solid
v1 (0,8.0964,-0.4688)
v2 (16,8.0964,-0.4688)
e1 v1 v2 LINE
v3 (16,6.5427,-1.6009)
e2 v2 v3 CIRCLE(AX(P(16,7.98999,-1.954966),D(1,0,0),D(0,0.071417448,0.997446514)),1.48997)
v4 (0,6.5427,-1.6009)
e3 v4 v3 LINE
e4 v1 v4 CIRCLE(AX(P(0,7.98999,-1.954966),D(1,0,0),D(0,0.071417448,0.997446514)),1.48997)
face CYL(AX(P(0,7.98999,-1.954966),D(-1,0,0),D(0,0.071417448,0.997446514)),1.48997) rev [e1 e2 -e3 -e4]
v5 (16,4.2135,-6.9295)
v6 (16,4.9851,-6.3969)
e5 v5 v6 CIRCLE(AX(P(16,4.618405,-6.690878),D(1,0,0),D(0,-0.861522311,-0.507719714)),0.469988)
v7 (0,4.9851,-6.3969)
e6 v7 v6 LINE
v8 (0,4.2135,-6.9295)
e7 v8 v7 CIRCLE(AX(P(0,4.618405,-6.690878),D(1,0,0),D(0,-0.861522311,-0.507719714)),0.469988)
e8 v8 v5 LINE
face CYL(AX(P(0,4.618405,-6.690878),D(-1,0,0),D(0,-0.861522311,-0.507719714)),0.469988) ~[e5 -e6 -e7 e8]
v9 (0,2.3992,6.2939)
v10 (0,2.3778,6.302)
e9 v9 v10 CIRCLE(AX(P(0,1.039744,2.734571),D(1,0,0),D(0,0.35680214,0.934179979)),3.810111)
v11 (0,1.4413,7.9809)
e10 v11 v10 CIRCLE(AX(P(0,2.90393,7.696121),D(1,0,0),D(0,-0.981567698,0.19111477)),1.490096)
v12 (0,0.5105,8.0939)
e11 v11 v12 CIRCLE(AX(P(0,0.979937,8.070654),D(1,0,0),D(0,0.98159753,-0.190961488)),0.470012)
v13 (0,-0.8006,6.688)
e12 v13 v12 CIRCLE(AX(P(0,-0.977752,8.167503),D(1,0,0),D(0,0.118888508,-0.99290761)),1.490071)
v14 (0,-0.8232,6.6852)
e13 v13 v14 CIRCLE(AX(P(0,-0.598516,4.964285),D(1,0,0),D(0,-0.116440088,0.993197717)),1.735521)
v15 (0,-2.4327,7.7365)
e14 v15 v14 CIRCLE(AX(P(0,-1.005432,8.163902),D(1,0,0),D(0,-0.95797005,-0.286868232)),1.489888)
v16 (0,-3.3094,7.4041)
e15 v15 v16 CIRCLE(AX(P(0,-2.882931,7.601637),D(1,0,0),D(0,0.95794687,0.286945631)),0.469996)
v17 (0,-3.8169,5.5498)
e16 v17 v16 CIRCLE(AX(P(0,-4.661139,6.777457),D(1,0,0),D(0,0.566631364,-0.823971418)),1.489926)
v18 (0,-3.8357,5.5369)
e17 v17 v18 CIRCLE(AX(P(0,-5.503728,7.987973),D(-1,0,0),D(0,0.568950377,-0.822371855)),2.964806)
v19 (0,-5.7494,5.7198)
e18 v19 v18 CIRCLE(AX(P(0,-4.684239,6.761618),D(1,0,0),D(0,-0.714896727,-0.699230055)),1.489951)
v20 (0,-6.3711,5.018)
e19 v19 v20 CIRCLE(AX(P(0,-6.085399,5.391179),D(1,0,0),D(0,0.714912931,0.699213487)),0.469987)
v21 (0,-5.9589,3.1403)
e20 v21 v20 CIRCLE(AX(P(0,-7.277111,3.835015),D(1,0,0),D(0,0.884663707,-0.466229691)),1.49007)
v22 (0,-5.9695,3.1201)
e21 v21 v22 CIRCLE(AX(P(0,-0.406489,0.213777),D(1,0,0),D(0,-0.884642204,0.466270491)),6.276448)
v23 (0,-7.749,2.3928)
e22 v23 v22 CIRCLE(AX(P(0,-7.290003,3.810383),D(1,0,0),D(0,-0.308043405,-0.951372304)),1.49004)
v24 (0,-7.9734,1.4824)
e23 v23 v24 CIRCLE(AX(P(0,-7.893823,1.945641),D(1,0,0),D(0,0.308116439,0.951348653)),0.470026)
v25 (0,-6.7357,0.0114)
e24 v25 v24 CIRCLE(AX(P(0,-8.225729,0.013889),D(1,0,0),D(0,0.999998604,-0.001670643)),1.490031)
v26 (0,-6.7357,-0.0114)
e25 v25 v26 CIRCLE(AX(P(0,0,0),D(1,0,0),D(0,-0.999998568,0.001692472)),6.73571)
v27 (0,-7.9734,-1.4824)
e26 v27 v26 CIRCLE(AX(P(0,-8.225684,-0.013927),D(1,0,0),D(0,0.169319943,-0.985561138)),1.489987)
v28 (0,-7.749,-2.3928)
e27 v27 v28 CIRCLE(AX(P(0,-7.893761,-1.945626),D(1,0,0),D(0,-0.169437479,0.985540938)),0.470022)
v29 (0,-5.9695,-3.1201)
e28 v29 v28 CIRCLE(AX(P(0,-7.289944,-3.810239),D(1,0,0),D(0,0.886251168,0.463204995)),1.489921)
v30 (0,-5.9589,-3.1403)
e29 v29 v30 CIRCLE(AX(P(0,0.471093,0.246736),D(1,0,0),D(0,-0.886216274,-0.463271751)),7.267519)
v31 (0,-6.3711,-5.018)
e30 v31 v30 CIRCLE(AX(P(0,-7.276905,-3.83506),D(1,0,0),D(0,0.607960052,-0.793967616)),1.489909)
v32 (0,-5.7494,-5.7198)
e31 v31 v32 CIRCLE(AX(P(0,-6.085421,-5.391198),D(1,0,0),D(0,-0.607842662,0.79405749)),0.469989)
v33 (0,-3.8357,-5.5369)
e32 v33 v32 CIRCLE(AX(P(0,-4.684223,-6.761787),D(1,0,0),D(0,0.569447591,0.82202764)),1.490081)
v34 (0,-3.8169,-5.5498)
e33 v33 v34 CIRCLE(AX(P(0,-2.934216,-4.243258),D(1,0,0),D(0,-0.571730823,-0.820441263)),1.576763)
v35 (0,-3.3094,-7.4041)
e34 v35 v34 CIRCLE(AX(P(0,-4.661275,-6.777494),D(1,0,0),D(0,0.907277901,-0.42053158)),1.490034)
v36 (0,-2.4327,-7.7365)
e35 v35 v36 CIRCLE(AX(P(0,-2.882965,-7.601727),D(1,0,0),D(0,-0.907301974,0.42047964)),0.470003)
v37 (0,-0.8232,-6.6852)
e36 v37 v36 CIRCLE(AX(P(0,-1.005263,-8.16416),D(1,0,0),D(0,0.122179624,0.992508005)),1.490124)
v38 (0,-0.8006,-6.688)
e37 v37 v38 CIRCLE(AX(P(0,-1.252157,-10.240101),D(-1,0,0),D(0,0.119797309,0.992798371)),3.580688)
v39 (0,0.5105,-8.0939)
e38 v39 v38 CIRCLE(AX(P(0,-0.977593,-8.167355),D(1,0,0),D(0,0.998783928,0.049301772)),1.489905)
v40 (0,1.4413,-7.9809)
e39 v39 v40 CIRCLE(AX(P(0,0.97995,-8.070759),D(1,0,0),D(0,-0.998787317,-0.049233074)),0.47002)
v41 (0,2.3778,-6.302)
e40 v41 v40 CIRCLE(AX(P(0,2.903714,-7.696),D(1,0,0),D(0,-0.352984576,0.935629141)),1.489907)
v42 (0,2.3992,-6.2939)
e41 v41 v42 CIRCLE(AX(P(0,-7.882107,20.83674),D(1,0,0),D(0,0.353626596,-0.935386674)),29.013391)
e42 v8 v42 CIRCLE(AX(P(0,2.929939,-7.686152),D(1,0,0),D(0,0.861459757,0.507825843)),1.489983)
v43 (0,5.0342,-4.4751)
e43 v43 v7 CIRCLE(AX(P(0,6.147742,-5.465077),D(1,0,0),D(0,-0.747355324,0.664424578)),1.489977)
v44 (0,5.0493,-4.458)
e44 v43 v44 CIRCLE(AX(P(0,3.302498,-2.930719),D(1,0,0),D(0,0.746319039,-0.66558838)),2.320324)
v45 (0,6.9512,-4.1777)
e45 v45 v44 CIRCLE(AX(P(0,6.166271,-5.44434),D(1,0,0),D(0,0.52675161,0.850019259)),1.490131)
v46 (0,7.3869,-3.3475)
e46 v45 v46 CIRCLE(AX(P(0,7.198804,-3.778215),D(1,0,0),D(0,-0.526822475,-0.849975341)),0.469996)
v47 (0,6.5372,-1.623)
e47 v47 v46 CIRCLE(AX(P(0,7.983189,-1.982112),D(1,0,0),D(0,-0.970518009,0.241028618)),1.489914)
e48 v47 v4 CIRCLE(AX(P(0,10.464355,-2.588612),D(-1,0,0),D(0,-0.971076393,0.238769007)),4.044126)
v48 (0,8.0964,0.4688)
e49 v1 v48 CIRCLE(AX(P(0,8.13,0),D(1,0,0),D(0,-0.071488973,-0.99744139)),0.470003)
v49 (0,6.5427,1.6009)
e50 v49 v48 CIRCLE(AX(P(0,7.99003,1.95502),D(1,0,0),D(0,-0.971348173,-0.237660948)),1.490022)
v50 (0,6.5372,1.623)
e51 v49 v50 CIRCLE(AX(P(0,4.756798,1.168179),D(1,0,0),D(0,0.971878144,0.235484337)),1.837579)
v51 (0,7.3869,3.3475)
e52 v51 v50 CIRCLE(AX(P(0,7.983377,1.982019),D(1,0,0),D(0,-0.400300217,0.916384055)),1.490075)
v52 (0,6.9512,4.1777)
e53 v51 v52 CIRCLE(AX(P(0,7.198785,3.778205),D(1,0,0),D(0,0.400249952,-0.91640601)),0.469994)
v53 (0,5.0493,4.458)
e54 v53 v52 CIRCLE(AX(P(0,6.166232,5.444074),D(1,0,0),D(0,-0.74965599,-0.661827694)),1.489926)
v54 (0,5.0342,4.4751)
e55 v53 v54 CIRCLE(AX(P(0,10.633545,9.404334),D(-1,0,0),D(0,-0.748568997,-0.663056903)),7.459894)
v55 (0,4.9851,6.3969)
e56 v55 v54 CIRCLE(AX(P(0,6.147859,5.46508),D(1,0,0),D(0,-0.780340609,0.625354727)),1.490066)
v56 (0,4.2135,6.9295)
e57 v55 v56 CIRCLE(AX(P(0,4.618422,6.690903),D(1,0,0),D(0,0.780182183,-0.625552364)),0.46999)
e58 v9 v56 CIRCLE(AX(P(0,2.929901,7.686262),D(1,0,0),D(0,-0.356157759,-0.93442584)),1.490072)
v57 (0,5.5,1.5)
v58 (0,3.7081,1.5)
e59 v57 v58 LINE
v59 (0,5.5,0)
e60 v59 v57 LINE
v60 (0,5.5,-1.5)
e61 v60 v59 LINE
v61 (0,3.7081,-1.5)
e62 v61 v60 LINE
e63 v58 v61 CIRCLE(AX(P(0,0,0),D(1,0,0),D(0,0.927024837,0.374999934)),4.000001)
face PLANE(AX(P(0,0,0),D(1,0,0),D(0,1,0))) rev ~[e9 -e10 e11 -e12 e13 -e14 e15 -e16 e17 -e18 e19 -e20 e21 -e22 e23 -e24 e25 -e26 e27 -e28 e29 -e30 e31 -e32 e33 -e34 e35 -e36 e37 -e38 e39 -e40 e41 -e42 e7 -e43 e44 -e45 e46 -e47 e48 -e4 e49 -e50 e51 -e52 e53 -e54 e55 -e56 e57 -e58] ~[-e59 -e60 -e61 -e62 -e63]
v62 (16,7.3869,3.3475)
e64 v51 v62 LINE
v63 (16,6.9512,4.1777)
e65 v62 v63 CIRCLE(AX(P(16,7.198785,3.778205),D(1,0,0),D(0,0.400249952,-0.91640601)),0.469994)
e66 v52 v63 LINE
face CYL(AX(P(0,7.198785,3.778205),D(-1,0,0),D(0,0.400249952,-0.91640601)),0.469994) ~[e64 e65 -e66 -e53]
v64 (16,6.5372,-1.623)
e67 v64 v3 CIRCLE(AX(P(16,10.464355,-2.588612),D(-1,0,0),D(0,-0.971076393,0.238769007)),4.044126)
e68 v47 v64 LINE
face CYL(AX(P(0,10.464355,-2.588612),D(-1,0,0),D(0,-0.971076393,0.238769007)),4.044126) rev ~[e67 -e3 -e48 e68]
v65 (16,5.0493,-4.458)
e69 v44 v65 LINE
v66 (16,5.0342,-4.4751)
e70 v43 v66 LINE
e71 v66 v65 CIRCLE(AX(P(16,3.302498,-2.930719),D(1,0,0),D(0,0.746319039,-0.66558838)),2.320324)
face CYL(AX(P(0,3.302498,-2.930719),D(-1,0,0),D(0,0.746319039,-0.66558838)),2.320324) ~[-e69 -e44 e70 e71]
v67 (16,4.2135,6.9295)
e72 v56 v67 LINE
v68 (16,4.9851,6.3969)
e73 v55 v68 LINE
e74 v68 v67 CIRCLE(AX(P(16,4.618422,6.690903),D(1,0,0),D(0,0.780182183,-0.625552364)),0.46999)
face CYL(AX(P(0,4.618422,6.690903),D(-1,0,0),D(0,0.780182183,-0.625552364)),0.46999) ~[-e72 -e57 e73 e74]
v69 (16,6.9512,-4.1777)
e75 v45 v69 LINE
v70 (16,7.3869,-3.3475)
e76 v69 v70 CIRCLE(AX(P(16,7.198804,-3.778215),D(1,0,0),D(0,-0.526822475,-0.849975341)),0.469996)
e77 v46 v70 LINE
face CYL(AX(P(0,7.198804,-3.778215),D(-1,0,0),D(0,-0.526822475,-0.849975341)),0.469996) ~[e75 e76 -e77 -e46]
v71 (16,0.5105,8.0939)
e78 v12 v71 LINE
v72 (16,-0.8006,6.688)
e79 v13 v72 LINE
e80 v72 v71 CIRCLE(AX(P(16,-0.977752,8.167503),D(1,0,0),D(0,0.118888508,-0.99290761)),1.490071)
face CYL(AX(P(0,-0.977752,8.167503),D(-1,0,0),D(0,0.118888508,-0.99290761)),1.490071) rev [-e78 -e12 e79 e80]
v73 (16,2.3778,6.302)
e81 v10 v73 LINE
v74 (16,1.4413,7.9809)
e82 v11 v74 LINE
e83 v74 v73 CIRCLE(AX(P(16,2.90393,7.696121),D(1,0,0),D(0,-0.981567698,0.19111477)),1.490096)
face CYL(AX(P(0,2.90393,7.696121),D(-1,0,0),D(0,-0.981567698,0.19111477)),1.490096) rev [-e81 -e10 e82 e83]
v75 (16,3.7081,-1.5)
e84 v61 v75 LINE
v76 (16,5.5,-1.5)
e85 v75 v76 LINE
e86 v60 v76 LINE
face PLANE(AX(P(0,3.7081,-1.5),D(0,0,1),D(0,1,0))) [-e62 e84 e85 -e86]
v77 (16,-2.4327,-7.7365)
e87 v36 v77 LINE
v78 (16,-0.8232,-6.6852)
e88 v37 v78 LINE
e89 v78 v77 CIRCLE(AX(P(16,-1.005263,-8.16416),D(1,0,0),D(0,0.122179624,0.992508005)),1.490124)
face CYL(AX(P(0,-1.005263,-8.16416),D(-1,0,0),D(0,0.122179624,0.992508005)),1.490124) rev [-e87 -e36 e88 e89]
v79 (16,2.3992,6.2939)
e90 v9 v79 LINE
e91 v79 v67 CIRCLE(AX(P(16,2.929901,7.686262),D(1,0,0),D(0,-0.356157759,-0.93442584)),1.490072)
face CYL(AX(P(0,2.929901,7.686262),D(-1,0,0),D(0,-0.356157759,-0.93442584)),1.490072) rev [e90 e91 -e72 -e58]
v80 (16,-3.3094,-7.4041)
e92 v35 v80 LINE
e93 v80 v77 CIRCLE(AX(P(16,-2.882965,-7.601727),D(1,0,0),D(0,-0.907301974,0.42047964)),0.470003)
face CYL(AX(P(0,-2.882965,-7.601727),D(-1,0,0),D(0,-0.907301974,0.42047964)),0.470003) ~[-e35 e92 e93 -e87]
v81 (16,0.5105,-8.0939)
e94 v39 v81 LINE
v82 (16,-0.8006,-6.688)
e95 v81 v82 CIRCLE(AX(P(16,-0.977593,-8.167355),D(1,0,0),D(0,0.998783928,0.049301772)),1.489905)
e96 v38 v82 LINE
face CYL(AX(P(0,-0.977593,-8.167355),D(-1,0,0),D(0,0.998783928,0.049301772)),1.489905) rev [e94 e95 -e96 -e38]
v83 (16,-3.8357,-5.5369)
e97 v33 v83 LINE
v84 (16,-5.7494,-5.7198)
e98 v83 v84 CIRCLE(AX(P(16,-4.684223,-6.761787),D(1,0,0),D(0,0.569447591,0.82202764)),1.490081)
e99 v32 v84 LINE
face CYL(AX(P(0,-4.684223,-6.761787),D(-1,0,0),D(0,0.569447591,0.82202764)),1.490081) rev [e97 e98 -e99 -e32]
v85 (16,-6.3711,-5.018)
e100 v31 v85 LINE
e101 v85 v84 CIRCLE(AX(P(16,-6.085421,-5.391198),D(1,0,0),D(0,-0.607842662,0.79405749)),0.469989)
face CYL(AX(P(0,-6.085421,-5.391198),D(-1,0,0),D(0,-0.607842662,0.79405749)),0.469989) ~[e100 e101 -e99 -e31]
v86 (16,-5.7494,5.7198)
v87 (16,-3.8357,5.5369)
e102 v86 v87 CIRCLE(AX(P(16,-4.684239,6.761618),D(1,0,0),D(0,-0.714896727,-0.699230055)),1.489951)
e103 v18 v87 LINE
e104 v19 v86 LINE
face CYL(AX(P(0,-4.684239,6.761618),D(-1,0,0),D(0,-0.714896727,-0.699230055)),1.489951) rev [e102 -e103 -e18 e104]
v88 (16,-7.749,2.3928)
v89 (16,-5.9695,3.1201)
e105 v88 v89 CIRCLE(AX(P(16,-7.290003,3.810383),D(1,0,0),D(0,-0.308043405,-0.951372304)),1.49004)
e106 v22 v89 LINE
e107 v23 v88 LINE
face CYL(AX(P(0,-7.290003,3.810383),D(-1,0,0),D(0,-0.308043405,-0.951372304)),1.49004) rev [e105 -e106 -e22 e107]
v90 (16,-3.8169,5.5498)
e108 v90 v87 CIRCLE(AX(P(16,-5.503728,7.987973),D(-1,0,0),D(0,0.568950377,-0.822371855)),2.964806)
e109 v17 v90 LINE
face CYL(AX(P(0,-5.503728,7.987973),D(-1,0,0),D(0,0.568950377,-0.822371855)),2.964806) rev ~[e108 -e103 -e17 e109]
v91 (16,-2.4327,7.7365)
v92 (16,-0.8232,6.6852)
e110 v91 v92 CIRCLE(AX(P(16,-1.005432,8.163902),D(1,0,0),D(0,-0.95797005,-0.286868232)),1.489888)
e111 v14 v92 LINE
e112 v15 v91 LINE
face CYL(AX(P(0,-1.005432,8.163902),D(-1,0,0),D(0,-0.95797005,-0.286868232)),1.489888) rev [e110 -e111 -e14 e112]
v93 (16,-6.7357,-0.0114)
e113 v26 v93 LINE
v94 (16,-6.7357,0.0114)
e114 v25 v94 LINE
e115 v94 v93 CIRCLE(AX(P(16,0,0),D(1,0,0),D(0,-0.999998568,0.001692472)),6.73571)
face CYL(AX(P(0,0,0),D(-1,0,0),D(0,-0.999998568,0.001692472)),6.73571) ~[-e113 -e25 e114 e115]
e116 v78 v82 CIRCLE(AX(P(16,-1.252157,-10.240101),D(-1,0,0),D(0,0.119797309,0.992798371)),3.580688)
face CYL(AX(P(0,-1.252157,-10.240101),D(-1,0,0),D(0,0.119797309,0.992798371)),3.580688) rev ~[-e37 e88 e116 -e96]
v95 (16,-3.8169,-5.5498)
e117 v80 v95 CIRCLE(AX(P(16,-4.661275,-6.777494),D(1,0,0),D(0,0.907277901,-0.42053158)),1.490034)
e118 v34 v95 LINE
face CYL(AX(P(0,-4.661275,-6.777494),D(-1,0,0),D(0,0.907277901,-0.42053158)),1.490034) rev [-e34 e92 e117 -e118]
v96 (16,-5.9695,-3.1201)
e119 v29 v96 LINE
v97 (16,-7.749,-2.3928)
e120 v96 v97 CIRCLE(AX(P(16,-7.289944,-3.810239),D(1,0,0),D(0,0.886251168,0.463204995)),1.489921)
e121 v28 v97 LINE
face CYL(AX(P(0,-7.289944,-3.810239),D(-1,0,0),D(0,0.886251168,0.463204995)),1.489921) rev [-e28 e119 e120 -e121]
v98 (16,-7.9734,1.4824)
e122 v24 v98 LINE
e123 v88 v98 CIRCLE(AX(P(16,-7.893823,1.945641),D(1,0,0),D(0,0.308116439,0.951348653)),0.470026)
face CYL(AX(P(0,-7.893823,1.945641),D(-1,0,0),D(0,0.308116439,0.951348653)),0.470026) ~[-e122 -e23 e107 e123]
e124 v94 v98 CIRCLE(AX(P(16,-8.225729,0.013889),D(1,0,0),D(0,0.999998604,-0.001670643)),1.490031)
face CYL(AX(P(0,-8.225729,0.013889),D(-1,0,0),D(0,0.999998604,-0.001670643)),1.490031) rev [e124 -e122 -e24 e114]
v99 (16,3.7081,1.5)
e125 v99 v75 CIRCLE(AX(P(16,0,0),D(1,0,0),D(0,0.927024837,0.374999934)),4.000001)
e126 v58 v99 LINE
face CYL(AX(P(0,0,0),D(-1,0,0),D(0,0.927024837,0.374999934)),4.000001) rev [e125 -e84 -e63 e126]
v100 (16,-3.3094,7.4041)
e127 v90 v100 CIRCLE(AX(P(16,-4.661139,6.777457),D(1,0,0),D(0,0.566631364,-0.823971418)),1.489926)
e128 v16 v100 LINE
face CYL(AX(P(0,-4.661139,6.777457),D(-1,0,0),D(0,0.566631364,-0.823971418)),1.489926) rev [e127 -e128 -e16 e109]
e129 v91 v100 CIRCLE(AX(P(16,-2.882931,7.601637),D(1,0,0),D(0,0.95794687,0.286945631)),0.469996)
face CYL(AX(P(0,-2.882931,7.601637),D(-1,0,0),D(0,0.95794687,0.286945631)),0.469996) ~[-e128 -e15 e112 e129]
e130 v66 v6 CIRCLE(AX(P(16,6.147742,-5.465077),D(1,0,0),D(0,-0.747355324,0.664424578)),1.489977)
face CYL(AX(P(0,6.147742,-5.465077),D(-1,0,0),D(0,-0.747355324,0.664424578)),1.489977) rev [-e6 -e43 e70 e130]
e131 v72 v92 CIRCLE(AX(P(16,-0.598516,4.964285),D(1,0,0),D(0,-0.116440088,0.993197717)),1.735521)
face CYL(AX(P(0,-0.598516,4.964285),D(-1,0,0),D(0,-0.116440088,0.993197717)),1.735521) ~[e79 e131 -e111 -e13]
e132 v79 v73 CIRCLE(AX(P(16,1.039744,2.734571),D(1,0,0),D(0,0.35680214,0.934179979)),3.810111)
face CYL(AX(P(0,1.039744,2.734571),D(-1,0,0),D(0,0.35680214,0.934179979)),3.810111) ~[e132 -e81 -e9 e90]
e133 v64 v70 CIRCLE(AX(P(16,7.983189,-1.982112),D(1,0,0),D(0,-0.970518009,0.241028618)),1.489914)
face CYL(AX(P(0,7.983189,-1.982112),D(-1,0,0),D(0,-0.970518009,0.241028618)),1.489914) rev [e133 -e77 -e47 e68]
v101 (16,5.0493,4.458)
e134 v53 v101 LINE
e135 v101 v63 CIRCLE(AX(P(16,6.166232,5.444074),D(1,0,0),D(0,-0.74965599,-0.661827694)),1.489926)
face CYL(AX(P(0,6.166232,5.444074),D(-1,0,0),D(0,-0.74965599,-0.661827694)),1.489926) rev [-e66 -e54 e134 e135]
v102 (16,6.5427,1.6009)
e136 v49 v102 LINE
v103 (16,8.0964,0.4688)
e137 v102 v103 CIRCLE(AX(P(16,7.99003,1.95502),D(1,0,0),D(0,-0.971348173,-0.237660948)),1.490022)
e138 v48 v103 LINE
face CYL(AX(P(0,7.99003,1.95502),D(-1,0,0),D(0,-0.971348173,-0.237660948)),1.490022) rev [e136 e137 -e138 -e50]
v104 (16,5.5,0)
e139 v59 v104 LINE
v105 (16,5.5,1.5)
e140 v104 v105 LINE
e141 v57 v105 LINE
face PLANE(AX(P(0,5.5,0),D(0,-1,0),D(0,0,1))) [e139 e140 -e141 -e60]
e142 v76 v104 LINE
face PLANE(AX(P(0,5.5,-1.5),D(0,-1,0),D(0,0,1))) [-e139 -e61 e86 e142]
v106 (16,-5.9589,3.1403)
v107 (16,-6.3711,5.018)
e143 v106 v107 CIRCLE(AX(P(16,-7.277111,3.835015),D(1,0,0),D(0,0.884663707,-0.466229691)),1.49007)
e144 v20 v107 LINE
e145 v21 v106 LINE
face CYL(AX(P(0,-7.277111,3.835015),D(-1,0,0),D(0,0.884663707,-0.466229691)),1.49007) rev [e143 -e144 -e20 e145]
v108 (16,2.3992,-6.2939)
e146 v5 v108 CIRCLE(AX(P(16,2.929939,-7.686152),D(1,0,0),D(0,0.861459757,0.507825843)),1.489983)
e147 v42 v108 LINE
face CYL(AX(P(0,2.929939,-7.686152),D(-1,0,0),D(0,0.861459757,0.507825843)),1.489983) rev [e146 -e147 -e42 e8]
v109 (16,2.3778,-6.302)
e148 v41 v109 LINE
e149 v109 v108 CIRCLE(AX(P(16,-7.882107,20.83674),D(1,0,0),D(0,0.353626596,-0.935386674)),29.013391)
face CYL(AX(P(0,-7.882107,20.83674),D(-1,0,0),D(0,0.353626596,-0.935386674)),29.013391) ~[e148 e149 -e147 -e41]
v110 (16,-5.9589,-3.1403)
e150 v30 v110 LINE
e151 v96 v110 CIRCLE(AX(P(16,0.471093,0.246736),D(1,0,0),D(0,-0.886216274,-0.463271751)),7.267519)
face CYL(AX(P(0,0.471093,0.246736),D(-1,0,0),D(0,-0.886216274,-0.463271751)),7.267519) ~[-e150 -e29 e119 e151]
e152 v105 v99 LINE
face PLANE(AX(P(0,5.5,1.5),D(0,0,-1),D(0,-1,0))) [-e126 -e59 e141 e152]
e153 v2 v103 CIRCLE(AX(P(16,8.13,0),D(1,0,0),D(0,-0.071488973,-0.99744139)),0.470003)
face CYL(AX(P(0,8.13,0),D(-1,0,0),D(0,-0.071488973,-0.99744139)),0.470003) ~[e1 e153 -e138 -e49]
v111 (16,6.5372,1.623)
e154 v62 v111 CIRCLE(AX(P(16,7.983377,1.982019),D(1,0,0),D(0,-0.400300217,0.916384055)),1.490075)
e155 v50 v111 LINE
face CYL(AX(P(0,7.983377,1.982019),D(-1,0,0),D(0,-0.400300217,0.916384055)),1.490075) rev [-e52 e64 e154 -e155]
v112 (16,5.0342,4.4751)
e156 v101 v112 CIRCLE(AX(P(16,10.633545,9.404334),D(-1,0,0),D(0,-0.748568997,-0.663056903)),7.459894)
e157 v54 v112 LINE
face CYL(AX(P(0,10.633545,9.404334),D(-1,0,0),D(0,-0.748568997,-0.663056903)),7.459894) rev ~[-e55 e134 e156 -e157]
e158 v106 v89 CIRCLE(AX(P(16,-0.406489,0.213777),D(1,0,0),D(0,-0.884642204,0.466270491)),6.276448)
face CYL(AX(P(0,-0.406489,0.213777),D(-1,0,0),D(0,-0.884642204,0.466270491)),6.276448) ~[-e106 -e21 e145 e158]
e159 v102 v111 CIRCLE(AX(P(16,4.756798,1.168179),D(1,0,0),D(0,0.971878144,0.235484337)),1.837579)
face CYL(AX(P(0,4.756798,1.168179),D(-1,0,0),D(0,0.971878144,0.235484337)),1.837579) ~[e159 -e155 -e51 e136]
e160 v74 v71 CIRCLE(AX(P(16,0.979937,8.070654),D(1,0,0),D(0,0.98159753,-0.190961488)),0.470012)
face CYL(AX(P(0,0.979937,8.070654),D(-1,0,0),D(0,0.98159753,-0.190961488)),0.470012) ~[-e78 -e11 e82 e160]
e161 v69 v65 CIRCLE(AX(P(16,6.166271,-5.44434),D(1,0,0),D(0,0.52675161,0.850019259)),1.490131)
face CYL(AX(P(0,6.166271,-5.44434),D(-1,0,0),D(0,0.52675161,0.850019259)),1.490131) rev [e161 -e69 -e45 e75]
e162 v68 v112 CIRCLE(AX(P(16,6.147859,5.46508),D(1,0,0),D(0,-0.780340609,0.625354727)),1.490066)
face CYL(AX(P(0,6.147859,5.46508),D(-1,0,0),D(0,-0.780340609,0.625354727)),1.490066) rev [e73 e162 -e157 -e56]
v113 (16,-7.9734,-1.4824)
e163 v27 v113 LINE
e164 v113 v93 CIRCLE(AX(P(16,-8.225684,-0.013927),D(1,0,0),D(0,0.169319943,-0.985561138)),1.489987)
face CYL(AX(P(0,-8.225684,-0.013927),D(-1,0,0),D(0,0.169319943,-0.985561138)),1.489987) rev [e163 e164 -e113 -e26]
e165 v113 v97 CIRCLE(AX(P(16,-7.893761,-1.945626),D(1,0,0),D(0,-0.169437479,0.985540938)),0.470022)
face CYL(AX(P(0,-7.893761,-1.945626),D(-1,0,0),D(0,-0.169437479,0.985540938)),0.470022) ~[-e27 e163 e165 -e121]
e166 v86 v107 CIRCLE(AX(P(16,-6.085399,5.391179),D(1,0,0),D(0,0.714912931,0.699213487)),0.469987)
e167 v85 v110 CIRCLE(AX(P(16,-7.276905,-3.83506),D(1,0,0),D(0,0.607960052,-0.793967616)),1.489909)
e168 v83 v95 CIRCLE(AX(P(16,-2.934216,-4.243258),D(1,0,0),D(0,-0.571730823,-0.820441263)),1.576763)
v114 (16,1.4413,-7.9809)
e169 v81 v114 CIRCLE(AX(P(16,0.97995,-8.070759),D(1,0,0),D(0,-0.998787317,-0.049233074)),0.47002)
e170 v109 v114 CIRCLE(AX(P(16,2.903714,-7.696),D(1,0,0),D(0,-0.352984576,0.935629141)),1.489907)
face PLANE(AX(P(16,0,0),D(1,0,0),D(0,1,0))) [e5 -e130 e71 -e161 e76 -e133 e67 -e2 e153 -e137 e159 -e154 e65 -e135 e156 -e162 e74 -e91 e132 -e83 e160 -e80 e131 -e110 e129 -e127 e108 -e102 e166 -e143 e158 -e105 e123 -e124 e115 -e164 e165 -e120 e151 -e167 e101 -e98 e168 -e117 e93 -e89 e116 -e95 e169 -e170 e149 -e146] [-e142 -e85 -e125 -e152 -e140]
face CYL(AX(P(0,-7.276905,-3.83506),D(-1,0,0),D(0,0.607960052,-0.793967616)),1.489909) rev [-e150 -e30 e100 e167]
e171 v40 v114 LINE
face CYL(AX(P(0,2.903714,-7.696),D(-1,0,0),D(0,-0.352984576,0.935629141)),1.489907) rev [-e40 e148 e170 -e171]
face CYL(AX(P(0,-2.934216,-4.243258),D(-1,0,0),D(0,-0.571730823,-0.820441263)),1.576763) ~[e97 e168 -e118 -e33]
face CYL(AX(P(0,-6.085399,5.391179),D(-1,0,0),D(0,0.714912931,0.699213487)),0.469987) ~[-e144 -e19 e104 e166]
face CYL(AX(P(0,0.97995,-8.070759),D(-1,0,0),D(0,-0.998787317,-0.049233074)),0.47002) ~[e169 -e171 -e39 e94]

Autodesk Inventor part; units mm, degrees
ref_plane "YZ Plane" through (0, 0, 0) normal (1, 0, 0) x (0, 1, 0)
ref_plane "XZ Plane" through (0, 0, 0) normal (0, 1, 0) x (-1, 0, 0)
ref_plane "XY Plane" through (0, 0, 0) normal (0, 0, 1) x (1, 0, 0)
sketch "Sketch1" plane through (0, 0, 0) normal (1, 0, 0) x (0, 1, 0)
  arc A0 (3.7081, 1.5) -> (3.7081, -1.5) centre (0, 0) ccw
  arc A1 (6.5427, 1.6009) -> (8.0964, 0.4688) centre (7.99, 1.955) ccw
  arc A2 (8.0964, -0.4688) -> (6.5427, -1.6009) centre (7.99, -1.955) ccw
  arc A3 (8.0964, -0.4688) -> (8.0964, 0.4688) centre (8.13, 0) ccw
  arc A4 (5.0493, 4.458) -> (6.9512, 4.1777) centre (6.1663, 5.4442) ccw
  arc A5 (7.3869, 3.3475) -> (6.9512, 4.1777) centre (7.1988, 3.7782) ccw
  arc A6 (7.3869, 3.3475) -> (6.5372, 1.623) centre (7.9833, 1.9821) ccw
  arc A7 (2.3992, 6.2939) -> (4.2135, 6.9295) centre (2.9299, 7.6862) ccw
  arc A8 (4.9851, 6.3969) -> (4.2135, 6.9295) centre (4.6184, 6.6909) ccw
  arc A9 (4.9851, 6.3969) -> (5.0342, 4.4751) centre (6.1478, 5.4651) ccw
  arc A10 (-0.8006, 6.688) -> (0.5105, 8.0939) centre (-0.9777, 8.1674) ccw
  arc A11 (1.4413, 7.9809) -> (0.5105, 8.0939) centre (0.98, 8.0707) ccw
  arc A12 (1.4413, 7.9809) -> (2.3778, 6.302) centre (2.9038, 7.6961) ccw
  arc A13 (-3.8169, 5.5498) -> (-3.3094, 7.4041) centre (-4.6612, 6.7775) ccw
  arc A14 (-2.4327, 7.7365) -> (-3.3094, 7.4041) centre (-2.8829, 7.6017) ccw
  arc A15 (-2.4327, 7.7365) -> (-0.8232, 6.6852) centre (-1.0053, 8.164) ccw
  arc A16 (-5.9589, 3.1403) -> (-6.3711, 5.018) centre (-7.277, 3.835) ccw
  arc A17 (-5.7494, 5.7198) -> (-6.3711, 5.018) centre (-6.0854, 5.3912) ccw
  arc A18 (-5.7494, 5.7198) -> (-3.8357, 5.5369) centre (-4.6842, 6.7617) ccw
  arc A19 (-6.7357, 0.0114) -> (-7.9734, 1.4824) centre (-8.2257, 0.0139) ccw
  arc A20 (-7.749, 2.3928) -> (-7.9734, 1.4824) centre (-7.8938, 1.9456) ccw
  arc A21 (-7.749, 2.3928) -> (-5.9695, 3.1201) centre (-7.29, 3.8103) ccw
  arc A22 (-5.9695, -3.1201) -> (-7.749, -2.3928) centre (-7.29, -3.8103) ccw
  arc A23 (-7.9734, -1.4824) -> (-7.749, -2.3928) centre (-7.8938, -1.9456) ccw
  arc A24 (-7.9734, -1.4824) -> (-6.7357, -0.0114) centre (-8.2257, -0.0139) ccw
  arc A25 (-3.8357, -5.5369) -> (-5.7494, -5.7198) centre (-4.6842, -6.7617) ccw
  arc A26 (-6.3711, -5.018) -> (-5.7494, -5.7198) centre (-6.0854, -5.3912) ccw
  arc A27 (-6.3711, -5.018) -> (-5.9589, -3.1403) centre (-7.277, -3.835) ccw
  arc A28 (-0.8232, -6.6852) -> (-2.4327, -7.7365) centre (-1.0053, -8.164) ccw
  arc A29 (-3.3094, -7.4041) -> (-2.4327, -7.7365) centre (-2.8829, -7.6017) ccw
  arc A30 (-3.3094, -7.4041) -> (-3.8169, -5.5498) centre (-4.6612, -6.7775) ccw
  arc A31 (2.3778, -6.302) -> (1.4413, -7.9809) centre (2.9038, -7.6961) ccw
  arc A32 (0.5105, -8.0939) -> (1.4413, -7.9809) centre (0.98, -8.0707) ccw
  arc A33 (0.5105, -8.0939) -> (-0.8006, -6.688) centre (-0.9777, -8.1674) ccw
  arc A34 (5.0342, -4.4751) -> (4.9851, -6.3969) centre (6.1478, -5.4651) ccw
  arc A35 (4.2135, -6.9295) -> (4.9851, -6.3969) centre (4.6184, -6.6909) ccw
  arc A36 (4.2135, -6.9295) -> (2.3992, -6.2939) centre (2.9299, -7.6862) ccw
  arc A37 (6.5372, -1.623) -> (7.3869, -3.3475) centre (7.9833, -1.9821) ccw
  arc A38 (6.9512, -4.1777) -> (7.3869, -3.3475) centre (7.1988, -3.7782) ccw
  arc A39 (6.9512, -4.1777) -> (5.0493, -4.458) centre (6.1663, -5.4442) ccw
  arc A40 (6.5427, 1.6009) -> (6.5372, 1.623) centre (0, 0) ccw
  arc A41 (6.5372, -1.623) -> (6.5427, -1.6009) centre (0, 0) ccw
  arc A42 (5.0493, 4.458) -> (5.0342, 4.4751) centre (0, 0) ccw
  arc A43 (2.3992, 6.2939) -> (2.3778, 6.302) centre (0, 0) ccw
  arc A44 (-0.8006, 6.688) -> (-0.8232, 6.6852) centre (0, 0) ccw
  arc A45 (-3.8169, 5.5498) -> (-3.8357, 5.5369) centre (0, 0) ccw
  arc A46 (-5.9589, 3.1403) -> (-5.9695, 3.1201) centre (0, 0) ccw
  arc A47 (-6.7357, 0.0114) -> (-6.7357, -0.0114) centre (0, 0) ccw
  arc A48 (-5.9695, -3.1201) -> (-5.9589, -3.1403) centre (0, 0) ccw
  arc A49 (-3.8357, -5.5369) -> (-3.8169, -5.5498) centre (0, 0) ccw
  arc A50 (-0.8232, -6.6852) -> (-0.8006, -6.688) centre (0, 0) ccw
  arc A51 (2.3778, -6.302) -> (2.3992, -6.2939) centre (0, 0) ccw
  arc A52 (5.0342, -4.4751) -> (5.0493, -4.458) centre (0, 0) ccw
  line L0 (5.5, 0) -> (5.5, 1.5)
  line L1 (5.5, 1.5) -> (3.7081, 1.5)
  line L2 (3.7081, -1.5) -> (5.5, -1.5)
  line L3 (5.5, -1.5) -> (5.5, 0)
  dimension "d13" = 360
extrude "Extrusion2" add sketch "Sketch1" along normal blind 16
properties part number "MotorGear"
